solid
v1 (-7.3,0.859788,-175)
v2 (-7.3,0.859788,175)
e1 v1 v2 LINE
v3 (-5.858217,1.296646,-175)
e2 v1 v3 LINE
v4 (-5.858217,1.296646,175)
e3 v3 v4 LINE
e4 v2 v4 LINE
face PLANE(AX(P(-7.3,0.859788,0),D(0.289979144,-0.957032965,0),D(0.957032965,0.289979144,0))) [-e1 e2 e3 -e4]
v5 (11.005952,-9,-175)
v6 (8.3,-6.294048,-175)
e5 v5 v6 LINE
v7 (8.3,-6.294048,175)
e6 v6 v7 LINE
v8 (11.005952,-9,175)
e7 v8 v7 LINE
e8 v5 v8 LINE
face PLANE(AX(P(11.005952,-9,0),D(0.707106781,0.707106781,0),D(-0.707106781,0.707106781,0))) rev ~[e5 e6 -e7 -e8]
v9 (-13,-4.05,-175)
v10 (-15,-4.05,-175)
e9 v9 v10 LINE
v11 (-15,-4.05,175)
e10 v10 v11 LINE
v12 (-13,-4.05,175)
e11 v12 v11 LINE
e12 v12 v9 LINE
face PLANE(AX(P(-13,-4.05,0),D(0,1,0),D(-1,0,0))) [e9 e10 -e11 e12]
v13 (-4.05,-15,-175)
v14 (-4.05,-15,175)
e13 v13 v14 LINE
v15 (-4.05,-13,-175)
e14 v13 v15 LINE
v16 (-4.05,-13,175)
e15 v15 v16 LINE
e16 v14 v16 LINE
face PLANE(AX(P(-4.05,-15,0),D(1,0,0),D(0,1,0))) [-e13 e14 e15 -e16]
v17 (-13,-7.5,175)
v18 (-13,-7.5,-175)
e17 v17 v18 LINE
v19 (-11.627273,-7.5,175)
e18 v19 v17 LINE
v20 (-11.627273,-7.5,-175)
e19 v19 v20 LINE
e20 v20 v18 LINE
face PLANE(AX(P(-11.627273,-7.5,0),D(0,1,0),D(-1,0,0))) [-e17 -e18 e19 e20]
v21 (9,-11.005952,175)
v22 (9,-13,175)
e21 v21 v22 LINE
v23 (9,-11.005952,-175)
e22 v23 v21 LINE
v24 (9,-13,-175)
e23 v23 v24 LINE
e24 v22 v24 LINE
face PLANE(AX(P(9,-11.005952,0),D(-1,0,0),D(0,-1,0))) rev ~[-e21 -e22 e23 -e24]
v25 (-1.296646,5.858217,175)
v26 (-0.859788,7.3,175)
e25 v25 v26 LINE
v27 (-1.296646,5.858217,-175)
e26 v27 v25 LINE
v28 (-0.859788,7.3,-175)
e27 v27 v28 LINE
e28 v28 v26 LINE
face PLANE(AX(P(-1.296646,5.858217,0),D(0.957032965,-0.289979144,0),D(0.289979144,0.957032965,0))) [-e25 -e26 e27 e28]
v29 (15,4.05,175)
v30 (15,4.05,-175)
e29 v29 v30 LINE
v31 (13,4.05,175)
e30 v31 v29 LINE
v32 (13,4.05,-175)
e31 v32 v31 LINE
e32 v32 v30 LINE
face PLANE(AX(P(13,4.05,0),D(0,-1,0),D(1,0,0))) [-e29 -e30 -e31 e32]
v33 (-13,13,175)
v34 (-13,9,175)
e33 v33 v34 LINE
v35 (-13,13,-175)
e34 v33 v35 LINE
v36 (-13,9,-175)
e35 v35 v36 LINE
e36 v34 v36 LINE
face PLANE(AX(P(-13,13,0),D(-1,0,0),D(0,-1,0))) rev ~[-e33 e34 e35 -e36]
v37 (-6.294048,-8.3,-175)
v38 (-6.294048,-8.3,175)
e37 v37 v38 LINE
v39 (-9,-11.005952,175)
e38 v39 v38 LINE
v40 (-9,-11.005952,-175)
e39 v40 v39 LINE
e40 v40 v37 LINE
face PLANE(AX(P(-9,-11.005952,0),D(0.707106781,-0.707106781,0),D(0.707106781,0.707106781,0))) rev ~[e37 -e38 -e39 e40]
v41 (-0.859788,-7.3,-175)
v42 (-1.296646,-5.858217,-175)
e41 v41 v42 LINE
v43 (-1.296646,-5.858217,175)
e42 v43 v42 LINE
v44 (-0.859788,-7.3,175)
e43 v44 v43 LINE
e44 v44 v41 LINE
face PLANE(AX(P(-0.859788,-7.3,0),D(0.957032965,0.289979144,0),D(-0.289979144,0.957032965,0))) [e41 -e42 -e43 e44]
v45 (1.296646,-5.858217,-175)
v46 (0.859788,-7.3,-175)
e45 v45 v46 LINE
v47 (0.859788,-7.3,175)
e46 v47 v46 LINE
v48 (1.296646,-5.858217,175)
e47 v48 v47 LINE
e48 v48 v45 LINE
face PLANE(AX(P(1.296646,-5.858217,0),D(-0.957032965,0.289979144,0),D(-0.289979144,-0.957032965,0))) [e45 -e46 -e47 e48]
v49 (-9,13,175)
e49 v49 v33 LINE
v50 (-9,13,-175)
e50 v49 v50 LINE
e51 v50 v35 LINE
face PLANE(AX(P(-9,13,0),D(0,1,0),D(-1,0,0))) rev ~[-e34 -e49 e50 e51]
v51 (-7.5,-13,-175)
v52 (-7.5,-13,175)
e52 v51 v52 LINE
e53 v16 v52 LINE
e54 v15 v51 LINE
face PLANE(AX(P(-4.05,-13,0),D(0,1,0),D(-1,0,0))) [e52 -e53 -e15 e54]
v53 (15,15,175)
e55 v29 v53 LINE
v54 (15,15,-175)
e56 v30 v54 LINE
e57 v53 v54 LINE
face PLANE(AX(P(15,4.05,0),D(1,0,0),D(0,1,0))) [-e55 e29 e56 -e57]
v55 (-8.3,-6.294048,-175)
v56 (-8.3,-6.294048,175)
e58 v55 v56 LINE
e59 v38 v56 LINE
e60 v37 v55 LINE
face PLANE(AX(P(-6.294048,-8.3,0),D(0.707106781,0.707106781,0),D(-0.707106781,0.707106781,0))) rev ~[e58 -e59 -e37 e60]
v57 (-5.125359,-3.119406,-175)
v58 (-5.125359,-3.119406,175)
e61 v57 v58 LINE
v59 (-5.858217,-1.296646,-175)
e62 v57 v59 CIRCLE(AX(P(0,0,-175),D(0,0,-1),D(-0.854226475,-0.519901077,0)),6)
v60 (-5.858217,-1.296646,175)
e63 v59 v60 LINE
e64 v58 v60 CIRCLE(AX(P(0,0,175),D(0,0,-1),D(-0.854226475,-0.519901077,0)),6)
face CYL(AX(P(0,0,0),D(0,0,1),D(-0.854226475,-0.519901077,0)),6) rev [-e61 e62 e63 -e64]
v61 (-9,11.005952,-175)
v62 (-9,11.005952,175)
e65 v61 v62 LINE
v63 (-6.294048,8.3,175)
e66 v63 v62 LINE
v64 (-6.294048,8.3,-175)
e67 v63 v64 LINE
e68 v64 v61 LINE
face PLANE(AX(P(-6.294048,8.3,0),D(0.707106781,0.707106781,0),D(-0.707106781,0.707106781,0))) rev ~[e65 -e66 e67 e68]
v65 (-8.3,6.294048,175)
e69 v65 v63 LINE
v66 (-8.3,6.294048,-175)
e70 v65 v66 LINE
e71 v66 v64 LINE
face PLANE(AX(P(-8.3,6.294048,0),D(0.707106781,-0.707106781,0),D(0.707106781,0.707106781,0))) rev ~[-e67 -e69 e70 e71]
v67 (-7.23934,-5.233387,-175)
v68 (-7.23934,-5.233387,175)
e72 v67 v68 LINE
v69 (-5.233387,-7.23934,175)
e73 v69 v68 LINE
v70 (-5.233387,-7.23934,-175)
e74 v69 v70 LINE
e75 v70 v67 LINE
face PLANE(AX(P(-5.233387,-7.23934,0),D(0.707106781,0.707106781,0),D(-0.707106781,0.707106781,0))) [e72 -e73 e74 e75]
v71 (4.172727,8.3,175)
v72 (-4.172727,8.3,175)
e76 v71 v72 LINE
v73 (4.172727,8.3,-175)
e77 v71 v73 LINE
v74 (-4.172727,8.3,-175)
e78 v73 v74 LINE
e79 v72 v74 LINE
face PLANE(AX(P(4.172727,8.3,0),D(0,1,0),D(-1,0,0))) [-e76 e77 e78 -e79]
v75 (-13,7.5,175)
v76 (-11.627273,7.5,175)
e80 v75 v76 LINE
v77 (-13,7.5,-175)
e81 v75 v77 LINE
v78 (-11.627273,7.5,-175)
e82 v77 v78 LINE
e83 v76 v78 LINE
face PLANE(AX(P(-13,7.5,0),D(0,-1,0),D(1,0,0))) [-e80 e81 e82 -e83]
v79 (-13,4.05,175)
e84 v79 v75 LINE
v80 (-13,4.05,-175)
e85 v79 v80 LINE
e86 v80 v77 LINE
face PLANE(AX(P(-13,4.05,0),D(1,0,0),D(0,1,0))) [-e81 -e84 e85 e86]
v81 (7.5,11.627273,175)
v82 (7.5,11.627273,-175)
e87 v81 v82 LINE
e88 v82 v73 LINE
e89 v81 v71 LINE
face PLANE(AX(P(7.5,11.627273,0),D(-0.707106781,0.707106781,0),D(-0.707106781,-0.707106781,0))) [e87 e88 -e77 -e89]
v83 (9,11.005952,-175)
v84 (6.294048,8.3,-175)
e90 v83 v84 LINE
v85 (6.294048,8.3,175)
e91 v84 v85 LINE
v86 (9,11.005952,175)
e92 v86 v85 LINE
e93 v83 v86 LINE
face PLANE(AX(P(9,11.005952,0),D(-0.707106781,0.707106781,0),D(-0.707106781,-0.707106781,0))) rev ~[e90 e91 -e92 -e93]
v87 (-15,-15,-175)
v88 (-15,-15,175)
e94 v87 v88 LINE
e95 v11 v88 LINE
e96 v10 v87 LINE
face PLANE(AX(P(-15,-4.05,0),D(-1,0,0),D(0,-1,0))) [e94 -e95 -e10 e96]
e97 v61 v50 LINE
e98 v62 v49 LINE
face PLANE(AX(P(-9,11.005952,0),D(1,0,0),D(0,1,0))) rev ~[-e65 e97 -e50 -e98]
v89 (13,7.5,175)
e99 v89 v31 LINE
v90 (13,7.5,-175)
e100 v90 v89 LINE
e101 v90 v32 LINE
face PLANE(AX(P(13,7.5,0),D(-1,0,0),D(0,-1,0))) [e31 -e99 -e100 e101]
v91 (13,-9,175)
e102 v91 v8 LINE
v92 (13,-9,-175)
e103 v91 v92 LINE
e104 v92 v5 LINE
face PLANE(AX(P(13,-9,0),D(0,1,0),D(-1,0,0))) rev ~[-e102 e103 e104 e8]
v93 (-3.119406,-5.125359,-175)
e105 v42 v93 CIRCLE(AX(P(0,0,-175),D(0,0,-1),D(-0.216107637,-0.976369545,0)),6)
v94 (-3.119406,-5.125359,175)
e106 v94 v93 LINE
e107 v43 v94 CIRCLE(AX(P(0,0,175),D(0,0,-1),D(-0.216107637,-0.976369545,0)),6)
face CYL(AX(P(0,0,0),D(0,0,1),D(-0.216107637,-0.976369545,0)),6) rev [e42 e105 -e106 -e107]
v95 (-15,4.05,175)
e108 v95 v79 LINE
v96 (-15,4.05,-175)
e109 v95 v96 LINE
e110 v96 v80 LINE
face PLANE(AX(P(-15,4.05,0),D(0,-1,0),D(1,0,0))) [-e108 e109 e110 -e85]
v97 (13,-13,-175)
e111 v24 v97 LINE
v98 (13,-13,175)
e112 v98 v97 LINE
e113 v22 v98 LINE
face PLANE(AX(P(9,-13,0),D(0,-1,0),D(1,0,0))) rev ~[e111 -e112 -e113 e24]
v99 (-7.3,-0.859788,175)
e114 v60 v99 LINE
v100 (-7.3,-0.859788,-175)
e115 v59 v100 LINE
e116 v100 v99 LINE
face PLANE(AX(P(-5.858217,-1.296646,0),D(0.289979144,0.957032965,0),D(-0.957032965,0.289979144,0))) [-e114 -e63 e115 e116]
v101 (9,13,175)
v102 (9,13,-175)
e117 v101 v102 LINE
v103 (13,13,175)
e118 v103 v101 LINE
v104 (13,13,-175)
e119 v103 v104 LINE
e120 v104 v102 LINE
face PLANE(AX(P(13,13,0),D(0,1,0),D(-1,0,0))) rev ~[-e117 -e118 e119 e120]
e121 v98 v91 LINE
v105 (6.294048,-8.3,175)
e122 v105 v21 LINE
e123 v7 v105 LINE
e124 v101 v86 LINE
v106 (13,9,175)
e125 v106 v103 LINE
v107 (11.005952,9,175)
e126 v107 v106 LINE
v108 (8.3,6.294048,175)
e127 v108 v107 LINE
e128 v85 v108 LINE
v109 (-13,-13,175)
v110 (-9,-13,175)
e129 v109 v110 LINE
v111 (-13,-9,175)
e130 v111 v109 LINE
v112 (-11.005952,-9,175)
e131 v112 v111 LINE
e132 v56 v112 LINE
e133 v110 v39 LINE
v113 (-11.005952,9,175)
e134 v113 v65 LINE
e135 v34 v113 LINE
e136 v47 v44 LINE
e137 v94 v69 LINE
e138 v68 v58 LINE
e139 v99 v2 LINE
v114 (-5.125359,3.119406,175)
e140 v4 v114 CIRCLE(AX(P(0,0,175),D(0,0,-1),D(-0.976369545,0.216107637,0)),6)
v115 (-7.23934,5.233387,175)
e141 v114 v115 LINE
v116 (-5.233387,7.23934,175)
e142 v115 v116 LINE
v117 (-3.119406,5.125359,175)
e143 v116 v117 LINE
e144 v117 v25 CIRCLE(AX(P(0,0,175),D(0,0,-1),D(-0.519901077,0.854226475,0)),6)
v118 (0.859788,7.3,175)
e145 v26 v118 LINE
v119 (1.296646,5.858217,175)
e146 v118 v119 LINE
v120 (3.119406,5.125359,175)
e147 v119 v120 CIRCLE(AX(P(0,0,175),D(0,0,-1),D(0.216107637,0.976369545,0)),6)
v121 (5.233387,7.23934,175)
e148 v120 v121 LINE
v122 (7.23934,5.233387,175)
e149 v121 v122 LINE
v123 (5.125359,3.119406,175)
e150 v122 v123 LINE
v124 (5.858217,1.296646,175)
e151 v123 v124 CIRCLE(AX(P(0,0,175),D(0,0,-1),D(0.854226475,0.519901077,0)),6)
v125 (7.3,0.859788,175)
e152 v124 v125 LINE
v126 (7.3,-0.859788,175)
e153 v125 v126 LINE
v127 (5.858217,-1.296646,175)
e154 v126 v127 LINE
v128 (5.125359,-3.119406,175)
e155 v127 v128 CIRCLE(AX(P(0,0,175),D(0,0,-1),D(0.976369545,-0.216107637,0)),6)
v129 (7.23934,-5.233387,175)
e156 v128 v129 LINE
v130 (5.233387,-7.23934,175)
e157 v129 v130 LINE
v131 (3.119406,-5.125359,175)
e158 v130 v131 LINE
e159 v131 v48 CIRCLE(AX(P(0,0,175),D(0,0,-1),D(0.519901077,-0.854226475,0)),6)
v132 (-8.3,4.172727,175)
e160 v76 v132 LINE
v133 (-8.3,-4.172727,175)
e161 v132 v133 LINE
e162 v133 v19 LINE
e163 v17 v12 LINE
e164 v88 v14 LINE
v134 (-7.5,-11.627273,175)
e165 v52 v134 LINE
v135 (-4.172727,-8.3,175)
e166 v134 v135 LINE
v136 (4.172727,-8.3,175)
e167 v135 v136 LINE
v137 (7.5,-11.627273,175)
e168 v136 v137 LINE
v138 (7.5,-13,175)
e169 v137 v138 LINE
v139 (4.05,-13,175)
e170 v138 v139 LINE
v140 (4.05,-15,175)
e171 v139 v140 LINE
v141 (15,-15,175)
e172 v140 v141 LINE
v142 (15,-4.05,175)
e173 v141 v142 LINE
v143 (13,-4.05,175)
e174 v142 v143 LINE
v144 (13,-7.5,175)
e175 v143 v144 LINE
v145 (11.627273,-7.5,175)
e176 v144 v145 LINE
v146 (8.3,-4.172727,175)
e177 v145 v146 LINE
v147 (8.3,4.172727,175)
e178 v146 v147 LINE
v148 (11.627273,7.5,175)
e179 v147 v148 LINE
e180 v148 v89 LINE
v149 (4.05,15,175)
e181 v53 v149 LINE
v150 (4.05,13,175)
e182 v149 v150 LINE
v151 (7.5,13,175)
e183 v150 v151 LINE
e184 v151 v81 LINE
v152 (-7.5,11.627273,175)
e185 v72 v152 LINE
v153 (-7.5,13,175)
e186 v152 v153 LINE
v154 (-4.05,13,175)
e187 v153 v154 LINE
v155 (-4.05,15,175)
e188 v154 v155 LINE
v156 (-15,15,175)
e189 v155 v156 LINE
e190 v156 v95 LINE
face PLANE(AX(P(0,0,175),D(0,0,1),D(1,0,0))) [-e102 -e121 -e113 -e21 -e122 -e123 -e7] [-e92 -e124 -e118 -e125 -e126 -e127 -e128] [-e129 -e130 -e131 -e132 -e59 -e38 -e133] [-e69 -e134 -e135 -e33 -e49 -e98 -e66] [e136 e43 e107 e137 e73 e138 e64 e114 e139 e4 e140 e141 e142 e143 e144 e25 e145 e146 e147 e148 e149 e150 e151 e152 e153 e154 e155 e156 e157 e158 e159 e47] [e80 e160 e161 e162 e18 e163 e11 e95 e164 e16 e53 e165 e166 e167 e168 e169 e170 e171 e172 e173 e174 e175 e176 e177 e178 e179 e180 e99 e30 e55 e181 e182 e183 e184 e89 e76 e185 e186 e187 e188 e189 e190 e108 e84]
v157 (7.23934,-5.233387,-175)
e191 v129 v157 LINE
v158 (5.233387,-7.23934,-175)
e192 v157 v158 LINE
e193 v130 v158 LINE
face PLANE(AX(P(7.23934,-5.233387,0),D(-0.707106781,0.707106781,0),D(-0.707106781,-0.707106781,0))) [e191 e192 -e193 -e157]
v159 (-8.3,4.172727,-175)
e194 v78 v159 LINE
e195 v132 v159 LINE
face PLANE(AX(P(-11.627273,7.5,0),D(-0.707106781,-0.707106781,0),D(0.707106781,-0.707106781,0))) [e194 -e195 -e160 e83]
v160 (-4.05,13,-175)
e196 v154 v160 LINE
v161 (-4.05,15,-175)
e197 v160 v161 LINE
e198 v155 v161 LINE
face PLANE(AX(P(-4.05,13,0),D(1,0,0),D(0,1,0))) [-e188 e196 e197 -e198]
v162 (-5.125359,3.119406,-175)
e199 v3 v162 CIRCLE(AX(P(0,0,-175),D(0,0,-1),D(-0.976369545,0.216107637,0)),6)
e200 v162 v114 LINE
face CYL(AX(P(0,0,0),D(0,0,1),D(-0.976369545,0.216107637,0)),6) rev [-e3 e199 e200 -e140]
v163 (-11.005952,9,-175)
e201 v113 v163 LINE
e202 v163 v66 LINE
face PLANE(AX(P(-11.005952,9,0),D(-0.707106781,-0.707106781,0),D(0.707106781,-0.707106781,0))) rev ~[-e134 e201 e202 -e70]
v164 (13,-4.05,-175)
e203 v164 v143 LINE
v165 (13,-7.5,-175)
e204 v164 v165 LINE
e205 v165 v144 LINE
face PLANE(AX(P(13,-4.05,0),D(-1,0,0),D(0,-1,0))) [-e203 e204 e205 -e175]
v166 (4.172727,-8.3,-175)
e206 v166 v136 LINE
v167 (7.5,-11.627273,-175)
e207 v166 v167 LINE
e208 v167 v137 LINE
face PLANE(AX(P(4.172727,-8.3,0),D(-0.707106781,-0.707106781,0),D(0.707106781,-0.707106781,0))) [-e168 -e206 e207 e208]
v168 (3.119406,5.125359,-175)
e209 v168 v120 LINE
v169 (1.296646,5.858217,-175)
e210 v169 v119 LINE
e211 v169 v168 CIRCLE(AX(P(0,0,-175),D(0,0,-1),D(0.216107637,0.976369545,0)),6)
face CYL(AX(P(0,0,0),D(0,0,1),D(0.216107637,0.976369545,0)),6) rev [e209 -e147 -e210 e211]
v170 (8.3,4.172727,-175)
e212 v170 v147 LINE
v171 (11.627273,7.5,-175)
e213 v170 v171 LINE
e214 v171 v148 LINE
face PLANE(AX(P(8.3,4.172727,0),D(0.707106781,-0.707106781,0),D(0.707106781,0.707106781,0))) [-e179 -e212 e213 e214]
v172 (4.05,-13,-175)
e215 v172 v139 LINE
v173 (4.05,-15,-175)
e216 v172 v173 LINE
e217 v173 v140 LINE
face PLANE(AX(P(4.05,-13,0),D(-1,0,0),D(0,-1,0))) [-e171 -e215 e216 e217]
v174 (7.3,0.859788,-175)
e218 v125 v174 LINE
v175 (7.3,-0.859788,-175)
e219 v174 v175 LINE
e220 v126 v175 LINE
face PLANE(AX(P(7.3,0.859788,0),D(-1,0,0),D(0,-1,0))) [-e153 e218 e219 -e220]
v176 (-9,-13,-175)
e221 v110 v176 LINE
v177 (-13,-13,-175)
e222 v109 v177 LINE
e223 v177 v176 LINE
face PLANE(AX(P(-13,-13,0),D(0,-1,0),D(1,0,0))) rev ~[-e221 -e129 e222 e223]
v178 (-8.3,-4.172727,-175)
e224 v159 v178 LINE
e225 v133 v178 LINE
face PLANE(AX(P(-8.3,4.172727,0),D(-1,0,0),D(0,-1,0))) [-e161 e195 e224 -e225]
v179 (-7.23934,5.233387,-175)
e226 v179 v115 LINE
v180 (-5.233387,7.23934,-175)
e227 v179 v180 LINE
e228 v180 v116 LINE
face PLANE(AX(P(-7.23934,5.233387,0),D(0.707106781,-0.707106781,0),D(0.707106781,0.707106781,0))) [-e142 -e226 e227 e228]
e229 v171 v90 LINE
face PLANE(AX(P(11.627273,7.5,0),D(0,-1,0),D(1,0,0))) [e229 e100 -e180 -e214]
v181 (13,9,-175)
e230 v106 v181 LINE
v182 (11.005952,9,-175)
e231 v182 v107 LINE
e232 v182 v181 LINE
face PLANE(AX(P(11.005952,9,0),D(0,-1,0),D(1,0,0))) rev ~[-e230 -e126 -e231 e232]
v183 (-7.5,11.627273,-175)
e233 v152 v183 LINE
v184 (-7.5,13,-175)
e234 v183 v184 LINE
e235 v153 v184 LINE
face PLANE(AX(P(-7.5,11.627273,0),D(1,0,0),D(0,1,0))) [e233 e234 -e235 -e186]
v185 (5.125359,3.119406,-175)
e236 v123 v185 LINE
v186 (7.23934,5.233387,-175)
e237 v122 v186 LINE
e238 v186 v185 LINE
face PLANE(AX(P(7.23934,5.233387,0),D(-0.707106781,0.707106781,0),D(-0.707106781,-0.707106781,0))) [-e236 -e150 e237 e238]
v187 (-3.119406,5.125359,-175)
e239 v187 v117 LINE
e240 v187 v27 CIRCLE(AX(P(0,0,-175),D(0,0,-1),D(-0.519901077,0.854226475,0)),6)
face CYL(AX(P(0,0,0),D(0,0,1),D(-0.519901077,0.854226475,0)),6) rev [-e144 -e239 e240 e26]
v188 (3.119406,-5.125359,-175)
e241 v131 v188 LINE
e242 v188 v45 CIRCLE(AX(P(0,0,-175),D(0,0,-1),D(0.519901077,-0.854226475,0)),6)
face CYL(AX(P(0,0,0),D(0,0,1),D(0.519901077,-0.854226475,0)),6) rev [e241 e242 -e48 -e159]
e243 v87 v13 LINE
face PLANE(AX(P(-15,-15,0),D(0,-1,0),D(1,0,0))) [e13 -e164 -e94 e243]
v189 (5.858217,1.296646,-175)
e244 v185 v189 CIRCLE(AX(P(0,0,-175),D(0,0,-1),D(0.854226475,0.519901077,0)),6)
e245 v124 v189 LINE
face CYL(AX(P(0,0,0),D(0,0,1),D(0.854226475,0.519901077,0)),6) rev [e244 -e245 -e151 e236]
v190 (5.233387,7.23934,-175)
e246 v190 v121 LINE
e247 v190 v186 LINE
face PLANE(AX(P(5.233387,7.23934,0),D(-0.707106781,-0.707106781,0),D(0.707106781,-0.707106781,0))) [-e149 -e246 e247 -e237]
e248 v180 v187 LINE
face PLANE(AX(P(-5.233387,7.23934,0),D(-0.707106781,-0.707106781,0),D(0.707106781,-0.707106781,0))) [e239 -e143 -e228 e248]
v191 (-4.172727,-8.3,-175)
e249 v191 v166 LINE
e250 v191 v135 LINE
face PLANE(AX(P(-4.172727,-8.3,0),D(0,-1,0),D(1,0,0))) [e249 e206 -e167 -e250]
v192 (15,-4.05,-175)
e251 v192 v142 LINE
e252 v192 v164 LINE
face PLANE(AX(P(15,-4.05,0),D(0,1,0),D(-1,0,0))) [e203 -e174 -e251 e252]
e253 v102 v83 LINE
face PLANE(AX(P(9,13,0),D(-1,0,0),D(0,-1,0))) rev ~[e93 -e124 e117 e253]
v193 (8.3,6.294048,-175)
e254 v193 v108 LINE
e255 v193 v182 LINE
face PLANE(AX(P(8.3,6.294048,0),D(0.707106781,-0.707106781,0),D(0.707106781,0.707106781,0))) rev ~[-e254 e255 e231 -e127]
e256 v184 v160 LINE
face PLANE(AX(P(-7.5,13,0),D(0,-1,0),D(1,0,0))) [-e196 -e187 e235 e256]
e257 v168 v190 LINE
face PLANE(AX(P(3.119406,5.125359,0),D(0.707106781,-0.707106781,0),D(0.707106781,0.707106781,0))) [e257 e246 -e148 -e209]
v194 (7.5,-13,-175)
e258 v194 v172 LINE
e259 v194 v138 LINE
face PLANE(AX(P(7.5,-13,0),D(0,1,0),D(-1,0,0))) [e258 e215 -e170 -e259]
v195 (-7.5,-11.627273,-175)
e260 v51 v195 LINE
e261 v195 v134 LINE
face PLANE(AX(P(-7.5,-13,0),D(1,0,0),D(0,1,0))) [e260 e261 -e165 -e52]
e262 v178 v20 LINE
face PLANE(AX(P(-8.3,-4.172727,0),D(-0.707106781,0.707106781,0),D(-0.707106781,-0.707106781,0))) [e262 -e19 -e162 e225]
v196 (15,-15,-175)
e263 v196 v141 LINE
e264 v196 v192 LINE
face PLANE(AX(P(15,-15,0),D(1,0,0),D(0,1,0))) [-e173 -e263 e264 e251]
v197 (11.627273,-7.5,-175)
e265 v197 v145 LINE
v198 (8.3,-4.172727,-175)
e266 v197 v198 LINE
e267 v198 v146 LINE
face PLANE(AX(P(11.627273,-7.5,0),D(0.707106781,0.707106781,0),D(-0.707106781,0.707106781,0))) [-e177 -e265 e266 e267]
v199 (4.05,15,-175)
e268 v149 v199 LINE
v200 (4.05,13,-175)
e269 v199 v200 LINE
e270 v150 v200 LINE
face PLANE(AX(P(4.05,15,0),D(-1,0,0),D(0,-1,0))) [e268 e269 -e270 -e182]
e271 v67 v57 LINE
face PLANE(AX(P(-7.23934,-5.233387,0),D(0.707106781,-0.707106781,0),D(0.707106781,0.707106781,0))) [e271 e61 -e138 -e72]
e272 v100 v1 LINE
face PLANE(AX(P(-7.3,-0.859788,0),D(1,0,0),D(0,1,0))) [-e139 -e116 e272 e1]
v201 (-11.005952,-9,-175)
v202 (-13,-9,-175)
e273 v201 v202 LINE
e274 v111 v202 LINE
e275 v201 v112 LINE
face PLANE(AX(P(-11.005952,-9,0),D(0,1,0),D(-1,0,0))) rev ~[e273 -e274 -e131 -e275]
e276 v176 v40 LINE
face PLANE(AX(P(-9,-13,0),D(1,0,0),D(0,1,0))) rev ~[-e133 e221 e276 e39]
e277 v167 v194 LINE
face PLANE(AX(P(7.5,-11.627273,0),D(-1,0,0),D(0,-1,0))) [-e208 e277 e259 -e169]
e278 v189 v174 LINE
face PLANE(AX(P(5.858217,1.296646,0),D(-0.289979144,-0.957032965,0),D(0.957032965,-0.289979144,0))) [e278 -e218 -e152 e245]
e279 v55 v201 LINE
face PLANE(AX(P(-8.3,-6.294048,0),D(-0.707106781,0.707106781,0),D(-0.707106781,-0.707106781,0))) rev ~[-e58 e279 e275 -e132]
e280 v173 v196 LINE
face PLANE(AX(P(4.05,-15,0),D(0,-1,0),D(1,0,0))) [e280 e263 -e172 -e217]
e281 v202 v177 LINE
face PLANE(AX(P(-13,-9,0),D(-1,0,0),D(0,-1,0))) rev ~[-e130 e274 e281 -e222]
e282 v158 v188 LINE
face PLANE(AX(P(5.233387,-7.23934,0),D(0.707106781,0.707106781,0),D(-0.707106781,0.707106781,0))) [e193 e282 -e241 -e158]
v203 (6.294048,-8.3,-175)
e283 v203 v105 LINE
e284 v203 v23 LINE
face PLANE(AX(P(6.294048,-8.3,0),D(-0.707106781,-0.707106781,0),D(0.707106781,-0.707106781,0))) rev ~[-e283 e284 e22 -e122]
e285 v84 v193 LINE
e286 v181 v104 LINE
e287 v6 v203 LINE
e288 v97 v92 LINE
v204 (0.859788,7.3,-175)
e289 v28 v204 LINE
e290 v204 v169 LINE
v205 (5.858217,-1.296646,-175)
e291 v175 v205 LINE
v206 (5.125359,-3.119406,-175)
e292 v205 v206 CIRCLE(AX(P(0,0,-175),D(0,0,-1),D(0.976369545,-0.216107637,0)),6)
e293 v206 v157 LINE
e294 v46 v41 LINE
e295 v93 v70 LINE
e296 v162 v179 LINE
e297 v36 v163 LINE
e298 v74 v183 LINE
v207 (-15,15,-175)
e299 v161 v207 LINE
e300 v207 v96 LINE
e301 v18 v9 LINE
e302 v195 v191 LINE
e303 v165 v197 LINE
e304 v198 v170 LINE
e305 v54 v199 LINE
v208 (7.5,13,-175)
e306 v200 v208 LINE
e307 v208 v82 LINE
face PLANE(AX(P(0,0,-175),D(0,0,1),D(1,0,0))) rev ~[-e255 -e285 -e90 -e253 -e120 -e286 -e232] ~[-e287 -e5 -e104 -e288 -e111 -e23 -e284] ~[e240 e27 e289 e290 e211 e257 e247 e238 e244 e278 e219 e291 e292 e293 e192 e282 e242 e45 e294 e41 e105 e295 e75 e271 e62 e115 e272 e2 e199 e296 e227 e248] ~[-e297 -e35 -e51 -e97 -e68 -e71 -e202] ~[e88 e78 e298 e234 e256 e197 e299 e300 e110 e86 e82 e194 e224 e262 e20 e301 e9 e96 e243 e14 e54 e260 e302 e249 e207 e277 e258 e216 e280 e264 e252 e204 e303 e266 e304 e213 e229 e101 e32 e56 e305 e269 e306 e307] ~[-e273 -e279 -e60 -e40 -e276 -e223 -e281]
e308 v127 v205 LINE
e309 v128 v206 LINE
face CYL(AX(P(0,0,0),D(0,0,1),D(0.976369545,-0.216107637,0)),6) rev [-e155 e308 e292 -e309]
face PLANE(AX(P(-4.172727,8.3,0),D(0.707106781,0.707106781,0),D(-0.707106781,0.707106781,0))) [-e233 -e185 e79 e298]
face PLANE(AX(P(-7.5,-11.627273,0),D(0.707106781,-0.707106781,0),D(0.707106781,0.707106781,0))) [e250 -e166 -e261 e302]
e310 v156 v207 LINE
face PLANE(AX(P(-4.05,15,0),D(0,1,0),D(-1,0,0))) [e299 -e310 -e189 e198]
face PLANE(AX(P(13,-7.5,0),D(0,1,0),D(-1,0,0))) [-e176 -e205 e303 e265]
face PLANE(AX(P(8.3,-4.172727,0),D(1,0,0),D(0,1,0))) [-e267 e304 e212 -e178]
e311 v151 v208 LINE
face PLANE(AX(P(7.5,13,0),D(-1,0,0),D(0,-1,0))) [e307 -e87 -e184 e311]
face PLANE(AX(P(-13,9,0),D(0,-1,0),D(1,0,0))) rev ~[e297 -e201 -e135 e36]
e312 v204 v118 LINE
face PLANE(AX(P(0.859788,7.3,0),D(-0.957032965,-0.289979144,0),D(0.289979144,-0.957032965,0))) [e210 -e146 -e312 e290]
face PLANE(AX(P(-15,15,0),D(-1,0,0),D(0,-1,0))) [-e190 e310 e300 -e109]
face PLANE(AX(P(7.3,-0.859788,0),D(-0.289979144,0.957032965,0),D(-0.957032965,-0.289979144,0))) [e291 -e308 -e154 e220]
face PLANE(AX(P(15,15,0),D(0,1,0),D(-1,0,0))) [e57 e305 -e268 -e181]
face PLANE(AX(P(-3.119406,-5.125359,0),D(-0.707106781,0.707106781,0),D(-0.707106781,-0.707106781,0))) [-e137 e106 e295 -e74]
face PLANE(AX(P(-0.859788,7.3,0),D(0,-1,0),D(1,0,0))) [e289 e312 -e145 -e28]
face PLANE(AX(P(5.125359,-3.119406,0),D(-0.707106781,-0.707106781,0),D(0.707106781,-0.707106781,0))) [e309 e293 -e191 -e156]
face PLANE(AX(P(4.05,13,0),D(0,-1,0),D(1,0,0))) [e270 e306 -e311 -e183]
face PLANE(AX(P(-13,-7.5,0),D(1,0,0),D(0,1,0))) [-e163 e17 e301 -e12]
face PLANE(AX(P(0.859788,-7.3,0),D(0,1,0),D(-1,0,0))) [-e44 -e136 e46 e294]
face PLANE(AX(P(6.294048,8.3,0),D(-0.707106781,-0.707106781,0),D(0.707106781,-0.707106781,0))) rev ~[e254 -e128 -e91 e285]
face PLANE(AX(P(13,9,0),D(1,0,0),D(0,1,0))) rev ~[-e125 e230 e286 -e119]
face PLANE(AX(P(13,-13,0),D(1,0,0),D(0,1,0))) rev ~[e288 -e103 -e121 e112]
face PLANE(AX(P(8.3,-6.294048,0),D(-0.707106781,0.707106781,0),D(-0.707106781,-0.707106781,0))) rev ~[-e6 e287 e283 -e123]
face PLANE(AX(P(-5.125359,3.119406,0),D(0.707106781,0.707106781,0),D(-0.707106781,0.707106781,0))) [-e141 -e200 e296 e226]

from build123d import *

# Parameters (mm, degrees)
RESSALTO_EXTRUS_O1_DEPTH = 175


with BuildPart() as part:
    # Esboço1 → Ressalto-extrusão1 (new, symmetric)
    with BuildSketch(Plane.XY):
        Polygon((-13, -4.05), (-15, -4.05), (-15, -15), (-4.05, -15), (-4.05, -13), (-7.5, -13), (-7.5, -11.627272727), (-4.172727273, -8.3), (4.172727273, -8.3), (7.5, -11.627272727), (7.5, -13), (4.05, -13), (4.05, -15), (15, -15), (15, -4.05), (13, -4.05), (13, -7.5), (11.627272727, -7.5), (8.3, -4.172727273), (8.3, 4.172727273), (11.627272727, 7.5), (13, 7.5), (13, 4.05), (15, 4.05), (15, 15), (4.05, 15), (4.05, 13), (7.5, 13), (7.5, 11.627272727), (4.172727273, 8.3), (-4.172727273, 8.3), (-7.5, 11.627272727), (-7.5, 13), (-4.05, 13), (-4.05, 15), (-15, 15), (-15, 4.05), (-13, 4.05), (-13, 7.5), (-11.627272727, 7.5), (-8.3, 4.172727273), (-8.3, -4.172727273), (-11.627272727, -7.5), (-13, -7.5), align=None)
        with BuildLine():
            Line((-7.239339828, -5.233387445), (-5.125358847, -3.119406464))
            ThreePointArc((-5.125358847, -3.119406464), (-5.566897716, -2.238224702), (-5.858217272, -1.296645823))
            Line((-5.858217272, -1.296645823), (-7.3, -0.859788435))
            Line((-7.3, -0.859788435), (-7.3, 0.859788435))
            Line((-7.3, 0.859788435), (-5.858217272, 1.296645823))
            ThreePointArc((-5.858217272, 1.296645823), (-5.566897716, 2.238224702), (-5.125358847, 3.119406464))
            Line((-5.125358847, 3.119406464), (-7.239339828, 5.233387445))
            Line((-7.239339828, 5.233387445), (-5.233387445, 7.239339828))
            Line((-5.233387445, 7.239339828), (-3.119406464, 5.125358847))
            ThreePointArc((-3.119406464, 5.125358847), (-2.238224702, 5.566897716), (-1.296645823, 5.858217272))
            Line((-1.296645823, 5.858217272), (-0.859788435, 7.3))
            Line((-0.859788435, 7.3), (0.859788435, 7.3))
            Line((0.859788435, 7.3), (1.296645823, 5.858217272))
            ThreePointArc((1.296645823, 5.858217272), (2.238224702, 5.566897716), (3.119406464, 5.125358847))
            Line((3.119406464, 5.125358847), (5.233387445, 7.239339828))
            Line((5.233387445, 7.239339828), (7.239339828, 5.233387445))
            Line((7.239339828, 5.233387445), (5.125358847, 3.119406464))
            ThreePointArc((5.125358847, 3.119406464), (5.566897716, 2.238224702), (5.858217272, 1.296645823))
            Line((5.858217272, 1.296645823), (7.3, 0.859788435))
            Line((7.3, 0.859788435), (7.3, -0.859788435))
            Line((7.3, -0.859788435), (5.858217272, -1.296645823))
            ThreePointArc((5.858217272, -1.296645823), (5.566897716, -2.238224702), (5.125358847, -3.119406464))
            Line((5.125358847, -3.119406464), (7.239339828, -5.233387445))
            Line((7.239339828, -5.233387445), (5.233387445, -7.239339828))
            Line((5.233387445, -7.239339828), (3.119406464, -5.125358847))
            ThreePointArc((3.119406464, -5.125358847), (2.238224702, -5.566897716), (1.296645823, -5.858217272))
            Line((1.296645823, -5.858217272), (0.859788435, -7.3))
            Line((0.859788435, -7.3), (-0.859788435, -7.3))
            Line((-0.859788435, -7.3), (-1.296645823, -5.858217272))
            ThreePointArc((-1.296645823, -5.858217272), (-2.238224702, -5.566897716), (-3.119406464, -5.125358847))
            Line((-3.119406464, -5.125358847), (-5.233387445, -7.239339828))
            Line((-5.233387445, -7.239339828), (-7.239339828, -5.233387445))
        make_face(mode=Mode.SUBTRACT)
        Polygon((-11.005952384, -9), (-13, -9), (-13, -13), (-9, -13), (-9, -11.005952384), (-6.294047616, -8.3), (-8.3, -6.294047616), align=None, mode=Mode.SUBTRACT)
        Polygon((9, -11.005952384), (9, -13), (13, -13), (13, -9), (11.005952384, -9), (8.3, -6.294047616), (6.294047616, -8.3), align=None, mode=Mode.SUBTRACT)
        Polygon((11.005952384, 9), (13, 9), (13, 13), (9, 13), (9, 11.005952384), (6.294047616, 8.3), (8.3, 6.294047616), align=None, mode=Mode.SUBTRACT)
        Polygon((-9, 11.005952384), (-9, 13), (-13, 13), (-13, 9), (-11.005952384, 9), (-8.3, 6.294047616), (-6.294047616, 8.3), align=None, mode=Mode.SUBTRACT)
    extrude(amount=RESSALTO_EXTRUS_O1_DEPTH, both=True)


solid = part.part
